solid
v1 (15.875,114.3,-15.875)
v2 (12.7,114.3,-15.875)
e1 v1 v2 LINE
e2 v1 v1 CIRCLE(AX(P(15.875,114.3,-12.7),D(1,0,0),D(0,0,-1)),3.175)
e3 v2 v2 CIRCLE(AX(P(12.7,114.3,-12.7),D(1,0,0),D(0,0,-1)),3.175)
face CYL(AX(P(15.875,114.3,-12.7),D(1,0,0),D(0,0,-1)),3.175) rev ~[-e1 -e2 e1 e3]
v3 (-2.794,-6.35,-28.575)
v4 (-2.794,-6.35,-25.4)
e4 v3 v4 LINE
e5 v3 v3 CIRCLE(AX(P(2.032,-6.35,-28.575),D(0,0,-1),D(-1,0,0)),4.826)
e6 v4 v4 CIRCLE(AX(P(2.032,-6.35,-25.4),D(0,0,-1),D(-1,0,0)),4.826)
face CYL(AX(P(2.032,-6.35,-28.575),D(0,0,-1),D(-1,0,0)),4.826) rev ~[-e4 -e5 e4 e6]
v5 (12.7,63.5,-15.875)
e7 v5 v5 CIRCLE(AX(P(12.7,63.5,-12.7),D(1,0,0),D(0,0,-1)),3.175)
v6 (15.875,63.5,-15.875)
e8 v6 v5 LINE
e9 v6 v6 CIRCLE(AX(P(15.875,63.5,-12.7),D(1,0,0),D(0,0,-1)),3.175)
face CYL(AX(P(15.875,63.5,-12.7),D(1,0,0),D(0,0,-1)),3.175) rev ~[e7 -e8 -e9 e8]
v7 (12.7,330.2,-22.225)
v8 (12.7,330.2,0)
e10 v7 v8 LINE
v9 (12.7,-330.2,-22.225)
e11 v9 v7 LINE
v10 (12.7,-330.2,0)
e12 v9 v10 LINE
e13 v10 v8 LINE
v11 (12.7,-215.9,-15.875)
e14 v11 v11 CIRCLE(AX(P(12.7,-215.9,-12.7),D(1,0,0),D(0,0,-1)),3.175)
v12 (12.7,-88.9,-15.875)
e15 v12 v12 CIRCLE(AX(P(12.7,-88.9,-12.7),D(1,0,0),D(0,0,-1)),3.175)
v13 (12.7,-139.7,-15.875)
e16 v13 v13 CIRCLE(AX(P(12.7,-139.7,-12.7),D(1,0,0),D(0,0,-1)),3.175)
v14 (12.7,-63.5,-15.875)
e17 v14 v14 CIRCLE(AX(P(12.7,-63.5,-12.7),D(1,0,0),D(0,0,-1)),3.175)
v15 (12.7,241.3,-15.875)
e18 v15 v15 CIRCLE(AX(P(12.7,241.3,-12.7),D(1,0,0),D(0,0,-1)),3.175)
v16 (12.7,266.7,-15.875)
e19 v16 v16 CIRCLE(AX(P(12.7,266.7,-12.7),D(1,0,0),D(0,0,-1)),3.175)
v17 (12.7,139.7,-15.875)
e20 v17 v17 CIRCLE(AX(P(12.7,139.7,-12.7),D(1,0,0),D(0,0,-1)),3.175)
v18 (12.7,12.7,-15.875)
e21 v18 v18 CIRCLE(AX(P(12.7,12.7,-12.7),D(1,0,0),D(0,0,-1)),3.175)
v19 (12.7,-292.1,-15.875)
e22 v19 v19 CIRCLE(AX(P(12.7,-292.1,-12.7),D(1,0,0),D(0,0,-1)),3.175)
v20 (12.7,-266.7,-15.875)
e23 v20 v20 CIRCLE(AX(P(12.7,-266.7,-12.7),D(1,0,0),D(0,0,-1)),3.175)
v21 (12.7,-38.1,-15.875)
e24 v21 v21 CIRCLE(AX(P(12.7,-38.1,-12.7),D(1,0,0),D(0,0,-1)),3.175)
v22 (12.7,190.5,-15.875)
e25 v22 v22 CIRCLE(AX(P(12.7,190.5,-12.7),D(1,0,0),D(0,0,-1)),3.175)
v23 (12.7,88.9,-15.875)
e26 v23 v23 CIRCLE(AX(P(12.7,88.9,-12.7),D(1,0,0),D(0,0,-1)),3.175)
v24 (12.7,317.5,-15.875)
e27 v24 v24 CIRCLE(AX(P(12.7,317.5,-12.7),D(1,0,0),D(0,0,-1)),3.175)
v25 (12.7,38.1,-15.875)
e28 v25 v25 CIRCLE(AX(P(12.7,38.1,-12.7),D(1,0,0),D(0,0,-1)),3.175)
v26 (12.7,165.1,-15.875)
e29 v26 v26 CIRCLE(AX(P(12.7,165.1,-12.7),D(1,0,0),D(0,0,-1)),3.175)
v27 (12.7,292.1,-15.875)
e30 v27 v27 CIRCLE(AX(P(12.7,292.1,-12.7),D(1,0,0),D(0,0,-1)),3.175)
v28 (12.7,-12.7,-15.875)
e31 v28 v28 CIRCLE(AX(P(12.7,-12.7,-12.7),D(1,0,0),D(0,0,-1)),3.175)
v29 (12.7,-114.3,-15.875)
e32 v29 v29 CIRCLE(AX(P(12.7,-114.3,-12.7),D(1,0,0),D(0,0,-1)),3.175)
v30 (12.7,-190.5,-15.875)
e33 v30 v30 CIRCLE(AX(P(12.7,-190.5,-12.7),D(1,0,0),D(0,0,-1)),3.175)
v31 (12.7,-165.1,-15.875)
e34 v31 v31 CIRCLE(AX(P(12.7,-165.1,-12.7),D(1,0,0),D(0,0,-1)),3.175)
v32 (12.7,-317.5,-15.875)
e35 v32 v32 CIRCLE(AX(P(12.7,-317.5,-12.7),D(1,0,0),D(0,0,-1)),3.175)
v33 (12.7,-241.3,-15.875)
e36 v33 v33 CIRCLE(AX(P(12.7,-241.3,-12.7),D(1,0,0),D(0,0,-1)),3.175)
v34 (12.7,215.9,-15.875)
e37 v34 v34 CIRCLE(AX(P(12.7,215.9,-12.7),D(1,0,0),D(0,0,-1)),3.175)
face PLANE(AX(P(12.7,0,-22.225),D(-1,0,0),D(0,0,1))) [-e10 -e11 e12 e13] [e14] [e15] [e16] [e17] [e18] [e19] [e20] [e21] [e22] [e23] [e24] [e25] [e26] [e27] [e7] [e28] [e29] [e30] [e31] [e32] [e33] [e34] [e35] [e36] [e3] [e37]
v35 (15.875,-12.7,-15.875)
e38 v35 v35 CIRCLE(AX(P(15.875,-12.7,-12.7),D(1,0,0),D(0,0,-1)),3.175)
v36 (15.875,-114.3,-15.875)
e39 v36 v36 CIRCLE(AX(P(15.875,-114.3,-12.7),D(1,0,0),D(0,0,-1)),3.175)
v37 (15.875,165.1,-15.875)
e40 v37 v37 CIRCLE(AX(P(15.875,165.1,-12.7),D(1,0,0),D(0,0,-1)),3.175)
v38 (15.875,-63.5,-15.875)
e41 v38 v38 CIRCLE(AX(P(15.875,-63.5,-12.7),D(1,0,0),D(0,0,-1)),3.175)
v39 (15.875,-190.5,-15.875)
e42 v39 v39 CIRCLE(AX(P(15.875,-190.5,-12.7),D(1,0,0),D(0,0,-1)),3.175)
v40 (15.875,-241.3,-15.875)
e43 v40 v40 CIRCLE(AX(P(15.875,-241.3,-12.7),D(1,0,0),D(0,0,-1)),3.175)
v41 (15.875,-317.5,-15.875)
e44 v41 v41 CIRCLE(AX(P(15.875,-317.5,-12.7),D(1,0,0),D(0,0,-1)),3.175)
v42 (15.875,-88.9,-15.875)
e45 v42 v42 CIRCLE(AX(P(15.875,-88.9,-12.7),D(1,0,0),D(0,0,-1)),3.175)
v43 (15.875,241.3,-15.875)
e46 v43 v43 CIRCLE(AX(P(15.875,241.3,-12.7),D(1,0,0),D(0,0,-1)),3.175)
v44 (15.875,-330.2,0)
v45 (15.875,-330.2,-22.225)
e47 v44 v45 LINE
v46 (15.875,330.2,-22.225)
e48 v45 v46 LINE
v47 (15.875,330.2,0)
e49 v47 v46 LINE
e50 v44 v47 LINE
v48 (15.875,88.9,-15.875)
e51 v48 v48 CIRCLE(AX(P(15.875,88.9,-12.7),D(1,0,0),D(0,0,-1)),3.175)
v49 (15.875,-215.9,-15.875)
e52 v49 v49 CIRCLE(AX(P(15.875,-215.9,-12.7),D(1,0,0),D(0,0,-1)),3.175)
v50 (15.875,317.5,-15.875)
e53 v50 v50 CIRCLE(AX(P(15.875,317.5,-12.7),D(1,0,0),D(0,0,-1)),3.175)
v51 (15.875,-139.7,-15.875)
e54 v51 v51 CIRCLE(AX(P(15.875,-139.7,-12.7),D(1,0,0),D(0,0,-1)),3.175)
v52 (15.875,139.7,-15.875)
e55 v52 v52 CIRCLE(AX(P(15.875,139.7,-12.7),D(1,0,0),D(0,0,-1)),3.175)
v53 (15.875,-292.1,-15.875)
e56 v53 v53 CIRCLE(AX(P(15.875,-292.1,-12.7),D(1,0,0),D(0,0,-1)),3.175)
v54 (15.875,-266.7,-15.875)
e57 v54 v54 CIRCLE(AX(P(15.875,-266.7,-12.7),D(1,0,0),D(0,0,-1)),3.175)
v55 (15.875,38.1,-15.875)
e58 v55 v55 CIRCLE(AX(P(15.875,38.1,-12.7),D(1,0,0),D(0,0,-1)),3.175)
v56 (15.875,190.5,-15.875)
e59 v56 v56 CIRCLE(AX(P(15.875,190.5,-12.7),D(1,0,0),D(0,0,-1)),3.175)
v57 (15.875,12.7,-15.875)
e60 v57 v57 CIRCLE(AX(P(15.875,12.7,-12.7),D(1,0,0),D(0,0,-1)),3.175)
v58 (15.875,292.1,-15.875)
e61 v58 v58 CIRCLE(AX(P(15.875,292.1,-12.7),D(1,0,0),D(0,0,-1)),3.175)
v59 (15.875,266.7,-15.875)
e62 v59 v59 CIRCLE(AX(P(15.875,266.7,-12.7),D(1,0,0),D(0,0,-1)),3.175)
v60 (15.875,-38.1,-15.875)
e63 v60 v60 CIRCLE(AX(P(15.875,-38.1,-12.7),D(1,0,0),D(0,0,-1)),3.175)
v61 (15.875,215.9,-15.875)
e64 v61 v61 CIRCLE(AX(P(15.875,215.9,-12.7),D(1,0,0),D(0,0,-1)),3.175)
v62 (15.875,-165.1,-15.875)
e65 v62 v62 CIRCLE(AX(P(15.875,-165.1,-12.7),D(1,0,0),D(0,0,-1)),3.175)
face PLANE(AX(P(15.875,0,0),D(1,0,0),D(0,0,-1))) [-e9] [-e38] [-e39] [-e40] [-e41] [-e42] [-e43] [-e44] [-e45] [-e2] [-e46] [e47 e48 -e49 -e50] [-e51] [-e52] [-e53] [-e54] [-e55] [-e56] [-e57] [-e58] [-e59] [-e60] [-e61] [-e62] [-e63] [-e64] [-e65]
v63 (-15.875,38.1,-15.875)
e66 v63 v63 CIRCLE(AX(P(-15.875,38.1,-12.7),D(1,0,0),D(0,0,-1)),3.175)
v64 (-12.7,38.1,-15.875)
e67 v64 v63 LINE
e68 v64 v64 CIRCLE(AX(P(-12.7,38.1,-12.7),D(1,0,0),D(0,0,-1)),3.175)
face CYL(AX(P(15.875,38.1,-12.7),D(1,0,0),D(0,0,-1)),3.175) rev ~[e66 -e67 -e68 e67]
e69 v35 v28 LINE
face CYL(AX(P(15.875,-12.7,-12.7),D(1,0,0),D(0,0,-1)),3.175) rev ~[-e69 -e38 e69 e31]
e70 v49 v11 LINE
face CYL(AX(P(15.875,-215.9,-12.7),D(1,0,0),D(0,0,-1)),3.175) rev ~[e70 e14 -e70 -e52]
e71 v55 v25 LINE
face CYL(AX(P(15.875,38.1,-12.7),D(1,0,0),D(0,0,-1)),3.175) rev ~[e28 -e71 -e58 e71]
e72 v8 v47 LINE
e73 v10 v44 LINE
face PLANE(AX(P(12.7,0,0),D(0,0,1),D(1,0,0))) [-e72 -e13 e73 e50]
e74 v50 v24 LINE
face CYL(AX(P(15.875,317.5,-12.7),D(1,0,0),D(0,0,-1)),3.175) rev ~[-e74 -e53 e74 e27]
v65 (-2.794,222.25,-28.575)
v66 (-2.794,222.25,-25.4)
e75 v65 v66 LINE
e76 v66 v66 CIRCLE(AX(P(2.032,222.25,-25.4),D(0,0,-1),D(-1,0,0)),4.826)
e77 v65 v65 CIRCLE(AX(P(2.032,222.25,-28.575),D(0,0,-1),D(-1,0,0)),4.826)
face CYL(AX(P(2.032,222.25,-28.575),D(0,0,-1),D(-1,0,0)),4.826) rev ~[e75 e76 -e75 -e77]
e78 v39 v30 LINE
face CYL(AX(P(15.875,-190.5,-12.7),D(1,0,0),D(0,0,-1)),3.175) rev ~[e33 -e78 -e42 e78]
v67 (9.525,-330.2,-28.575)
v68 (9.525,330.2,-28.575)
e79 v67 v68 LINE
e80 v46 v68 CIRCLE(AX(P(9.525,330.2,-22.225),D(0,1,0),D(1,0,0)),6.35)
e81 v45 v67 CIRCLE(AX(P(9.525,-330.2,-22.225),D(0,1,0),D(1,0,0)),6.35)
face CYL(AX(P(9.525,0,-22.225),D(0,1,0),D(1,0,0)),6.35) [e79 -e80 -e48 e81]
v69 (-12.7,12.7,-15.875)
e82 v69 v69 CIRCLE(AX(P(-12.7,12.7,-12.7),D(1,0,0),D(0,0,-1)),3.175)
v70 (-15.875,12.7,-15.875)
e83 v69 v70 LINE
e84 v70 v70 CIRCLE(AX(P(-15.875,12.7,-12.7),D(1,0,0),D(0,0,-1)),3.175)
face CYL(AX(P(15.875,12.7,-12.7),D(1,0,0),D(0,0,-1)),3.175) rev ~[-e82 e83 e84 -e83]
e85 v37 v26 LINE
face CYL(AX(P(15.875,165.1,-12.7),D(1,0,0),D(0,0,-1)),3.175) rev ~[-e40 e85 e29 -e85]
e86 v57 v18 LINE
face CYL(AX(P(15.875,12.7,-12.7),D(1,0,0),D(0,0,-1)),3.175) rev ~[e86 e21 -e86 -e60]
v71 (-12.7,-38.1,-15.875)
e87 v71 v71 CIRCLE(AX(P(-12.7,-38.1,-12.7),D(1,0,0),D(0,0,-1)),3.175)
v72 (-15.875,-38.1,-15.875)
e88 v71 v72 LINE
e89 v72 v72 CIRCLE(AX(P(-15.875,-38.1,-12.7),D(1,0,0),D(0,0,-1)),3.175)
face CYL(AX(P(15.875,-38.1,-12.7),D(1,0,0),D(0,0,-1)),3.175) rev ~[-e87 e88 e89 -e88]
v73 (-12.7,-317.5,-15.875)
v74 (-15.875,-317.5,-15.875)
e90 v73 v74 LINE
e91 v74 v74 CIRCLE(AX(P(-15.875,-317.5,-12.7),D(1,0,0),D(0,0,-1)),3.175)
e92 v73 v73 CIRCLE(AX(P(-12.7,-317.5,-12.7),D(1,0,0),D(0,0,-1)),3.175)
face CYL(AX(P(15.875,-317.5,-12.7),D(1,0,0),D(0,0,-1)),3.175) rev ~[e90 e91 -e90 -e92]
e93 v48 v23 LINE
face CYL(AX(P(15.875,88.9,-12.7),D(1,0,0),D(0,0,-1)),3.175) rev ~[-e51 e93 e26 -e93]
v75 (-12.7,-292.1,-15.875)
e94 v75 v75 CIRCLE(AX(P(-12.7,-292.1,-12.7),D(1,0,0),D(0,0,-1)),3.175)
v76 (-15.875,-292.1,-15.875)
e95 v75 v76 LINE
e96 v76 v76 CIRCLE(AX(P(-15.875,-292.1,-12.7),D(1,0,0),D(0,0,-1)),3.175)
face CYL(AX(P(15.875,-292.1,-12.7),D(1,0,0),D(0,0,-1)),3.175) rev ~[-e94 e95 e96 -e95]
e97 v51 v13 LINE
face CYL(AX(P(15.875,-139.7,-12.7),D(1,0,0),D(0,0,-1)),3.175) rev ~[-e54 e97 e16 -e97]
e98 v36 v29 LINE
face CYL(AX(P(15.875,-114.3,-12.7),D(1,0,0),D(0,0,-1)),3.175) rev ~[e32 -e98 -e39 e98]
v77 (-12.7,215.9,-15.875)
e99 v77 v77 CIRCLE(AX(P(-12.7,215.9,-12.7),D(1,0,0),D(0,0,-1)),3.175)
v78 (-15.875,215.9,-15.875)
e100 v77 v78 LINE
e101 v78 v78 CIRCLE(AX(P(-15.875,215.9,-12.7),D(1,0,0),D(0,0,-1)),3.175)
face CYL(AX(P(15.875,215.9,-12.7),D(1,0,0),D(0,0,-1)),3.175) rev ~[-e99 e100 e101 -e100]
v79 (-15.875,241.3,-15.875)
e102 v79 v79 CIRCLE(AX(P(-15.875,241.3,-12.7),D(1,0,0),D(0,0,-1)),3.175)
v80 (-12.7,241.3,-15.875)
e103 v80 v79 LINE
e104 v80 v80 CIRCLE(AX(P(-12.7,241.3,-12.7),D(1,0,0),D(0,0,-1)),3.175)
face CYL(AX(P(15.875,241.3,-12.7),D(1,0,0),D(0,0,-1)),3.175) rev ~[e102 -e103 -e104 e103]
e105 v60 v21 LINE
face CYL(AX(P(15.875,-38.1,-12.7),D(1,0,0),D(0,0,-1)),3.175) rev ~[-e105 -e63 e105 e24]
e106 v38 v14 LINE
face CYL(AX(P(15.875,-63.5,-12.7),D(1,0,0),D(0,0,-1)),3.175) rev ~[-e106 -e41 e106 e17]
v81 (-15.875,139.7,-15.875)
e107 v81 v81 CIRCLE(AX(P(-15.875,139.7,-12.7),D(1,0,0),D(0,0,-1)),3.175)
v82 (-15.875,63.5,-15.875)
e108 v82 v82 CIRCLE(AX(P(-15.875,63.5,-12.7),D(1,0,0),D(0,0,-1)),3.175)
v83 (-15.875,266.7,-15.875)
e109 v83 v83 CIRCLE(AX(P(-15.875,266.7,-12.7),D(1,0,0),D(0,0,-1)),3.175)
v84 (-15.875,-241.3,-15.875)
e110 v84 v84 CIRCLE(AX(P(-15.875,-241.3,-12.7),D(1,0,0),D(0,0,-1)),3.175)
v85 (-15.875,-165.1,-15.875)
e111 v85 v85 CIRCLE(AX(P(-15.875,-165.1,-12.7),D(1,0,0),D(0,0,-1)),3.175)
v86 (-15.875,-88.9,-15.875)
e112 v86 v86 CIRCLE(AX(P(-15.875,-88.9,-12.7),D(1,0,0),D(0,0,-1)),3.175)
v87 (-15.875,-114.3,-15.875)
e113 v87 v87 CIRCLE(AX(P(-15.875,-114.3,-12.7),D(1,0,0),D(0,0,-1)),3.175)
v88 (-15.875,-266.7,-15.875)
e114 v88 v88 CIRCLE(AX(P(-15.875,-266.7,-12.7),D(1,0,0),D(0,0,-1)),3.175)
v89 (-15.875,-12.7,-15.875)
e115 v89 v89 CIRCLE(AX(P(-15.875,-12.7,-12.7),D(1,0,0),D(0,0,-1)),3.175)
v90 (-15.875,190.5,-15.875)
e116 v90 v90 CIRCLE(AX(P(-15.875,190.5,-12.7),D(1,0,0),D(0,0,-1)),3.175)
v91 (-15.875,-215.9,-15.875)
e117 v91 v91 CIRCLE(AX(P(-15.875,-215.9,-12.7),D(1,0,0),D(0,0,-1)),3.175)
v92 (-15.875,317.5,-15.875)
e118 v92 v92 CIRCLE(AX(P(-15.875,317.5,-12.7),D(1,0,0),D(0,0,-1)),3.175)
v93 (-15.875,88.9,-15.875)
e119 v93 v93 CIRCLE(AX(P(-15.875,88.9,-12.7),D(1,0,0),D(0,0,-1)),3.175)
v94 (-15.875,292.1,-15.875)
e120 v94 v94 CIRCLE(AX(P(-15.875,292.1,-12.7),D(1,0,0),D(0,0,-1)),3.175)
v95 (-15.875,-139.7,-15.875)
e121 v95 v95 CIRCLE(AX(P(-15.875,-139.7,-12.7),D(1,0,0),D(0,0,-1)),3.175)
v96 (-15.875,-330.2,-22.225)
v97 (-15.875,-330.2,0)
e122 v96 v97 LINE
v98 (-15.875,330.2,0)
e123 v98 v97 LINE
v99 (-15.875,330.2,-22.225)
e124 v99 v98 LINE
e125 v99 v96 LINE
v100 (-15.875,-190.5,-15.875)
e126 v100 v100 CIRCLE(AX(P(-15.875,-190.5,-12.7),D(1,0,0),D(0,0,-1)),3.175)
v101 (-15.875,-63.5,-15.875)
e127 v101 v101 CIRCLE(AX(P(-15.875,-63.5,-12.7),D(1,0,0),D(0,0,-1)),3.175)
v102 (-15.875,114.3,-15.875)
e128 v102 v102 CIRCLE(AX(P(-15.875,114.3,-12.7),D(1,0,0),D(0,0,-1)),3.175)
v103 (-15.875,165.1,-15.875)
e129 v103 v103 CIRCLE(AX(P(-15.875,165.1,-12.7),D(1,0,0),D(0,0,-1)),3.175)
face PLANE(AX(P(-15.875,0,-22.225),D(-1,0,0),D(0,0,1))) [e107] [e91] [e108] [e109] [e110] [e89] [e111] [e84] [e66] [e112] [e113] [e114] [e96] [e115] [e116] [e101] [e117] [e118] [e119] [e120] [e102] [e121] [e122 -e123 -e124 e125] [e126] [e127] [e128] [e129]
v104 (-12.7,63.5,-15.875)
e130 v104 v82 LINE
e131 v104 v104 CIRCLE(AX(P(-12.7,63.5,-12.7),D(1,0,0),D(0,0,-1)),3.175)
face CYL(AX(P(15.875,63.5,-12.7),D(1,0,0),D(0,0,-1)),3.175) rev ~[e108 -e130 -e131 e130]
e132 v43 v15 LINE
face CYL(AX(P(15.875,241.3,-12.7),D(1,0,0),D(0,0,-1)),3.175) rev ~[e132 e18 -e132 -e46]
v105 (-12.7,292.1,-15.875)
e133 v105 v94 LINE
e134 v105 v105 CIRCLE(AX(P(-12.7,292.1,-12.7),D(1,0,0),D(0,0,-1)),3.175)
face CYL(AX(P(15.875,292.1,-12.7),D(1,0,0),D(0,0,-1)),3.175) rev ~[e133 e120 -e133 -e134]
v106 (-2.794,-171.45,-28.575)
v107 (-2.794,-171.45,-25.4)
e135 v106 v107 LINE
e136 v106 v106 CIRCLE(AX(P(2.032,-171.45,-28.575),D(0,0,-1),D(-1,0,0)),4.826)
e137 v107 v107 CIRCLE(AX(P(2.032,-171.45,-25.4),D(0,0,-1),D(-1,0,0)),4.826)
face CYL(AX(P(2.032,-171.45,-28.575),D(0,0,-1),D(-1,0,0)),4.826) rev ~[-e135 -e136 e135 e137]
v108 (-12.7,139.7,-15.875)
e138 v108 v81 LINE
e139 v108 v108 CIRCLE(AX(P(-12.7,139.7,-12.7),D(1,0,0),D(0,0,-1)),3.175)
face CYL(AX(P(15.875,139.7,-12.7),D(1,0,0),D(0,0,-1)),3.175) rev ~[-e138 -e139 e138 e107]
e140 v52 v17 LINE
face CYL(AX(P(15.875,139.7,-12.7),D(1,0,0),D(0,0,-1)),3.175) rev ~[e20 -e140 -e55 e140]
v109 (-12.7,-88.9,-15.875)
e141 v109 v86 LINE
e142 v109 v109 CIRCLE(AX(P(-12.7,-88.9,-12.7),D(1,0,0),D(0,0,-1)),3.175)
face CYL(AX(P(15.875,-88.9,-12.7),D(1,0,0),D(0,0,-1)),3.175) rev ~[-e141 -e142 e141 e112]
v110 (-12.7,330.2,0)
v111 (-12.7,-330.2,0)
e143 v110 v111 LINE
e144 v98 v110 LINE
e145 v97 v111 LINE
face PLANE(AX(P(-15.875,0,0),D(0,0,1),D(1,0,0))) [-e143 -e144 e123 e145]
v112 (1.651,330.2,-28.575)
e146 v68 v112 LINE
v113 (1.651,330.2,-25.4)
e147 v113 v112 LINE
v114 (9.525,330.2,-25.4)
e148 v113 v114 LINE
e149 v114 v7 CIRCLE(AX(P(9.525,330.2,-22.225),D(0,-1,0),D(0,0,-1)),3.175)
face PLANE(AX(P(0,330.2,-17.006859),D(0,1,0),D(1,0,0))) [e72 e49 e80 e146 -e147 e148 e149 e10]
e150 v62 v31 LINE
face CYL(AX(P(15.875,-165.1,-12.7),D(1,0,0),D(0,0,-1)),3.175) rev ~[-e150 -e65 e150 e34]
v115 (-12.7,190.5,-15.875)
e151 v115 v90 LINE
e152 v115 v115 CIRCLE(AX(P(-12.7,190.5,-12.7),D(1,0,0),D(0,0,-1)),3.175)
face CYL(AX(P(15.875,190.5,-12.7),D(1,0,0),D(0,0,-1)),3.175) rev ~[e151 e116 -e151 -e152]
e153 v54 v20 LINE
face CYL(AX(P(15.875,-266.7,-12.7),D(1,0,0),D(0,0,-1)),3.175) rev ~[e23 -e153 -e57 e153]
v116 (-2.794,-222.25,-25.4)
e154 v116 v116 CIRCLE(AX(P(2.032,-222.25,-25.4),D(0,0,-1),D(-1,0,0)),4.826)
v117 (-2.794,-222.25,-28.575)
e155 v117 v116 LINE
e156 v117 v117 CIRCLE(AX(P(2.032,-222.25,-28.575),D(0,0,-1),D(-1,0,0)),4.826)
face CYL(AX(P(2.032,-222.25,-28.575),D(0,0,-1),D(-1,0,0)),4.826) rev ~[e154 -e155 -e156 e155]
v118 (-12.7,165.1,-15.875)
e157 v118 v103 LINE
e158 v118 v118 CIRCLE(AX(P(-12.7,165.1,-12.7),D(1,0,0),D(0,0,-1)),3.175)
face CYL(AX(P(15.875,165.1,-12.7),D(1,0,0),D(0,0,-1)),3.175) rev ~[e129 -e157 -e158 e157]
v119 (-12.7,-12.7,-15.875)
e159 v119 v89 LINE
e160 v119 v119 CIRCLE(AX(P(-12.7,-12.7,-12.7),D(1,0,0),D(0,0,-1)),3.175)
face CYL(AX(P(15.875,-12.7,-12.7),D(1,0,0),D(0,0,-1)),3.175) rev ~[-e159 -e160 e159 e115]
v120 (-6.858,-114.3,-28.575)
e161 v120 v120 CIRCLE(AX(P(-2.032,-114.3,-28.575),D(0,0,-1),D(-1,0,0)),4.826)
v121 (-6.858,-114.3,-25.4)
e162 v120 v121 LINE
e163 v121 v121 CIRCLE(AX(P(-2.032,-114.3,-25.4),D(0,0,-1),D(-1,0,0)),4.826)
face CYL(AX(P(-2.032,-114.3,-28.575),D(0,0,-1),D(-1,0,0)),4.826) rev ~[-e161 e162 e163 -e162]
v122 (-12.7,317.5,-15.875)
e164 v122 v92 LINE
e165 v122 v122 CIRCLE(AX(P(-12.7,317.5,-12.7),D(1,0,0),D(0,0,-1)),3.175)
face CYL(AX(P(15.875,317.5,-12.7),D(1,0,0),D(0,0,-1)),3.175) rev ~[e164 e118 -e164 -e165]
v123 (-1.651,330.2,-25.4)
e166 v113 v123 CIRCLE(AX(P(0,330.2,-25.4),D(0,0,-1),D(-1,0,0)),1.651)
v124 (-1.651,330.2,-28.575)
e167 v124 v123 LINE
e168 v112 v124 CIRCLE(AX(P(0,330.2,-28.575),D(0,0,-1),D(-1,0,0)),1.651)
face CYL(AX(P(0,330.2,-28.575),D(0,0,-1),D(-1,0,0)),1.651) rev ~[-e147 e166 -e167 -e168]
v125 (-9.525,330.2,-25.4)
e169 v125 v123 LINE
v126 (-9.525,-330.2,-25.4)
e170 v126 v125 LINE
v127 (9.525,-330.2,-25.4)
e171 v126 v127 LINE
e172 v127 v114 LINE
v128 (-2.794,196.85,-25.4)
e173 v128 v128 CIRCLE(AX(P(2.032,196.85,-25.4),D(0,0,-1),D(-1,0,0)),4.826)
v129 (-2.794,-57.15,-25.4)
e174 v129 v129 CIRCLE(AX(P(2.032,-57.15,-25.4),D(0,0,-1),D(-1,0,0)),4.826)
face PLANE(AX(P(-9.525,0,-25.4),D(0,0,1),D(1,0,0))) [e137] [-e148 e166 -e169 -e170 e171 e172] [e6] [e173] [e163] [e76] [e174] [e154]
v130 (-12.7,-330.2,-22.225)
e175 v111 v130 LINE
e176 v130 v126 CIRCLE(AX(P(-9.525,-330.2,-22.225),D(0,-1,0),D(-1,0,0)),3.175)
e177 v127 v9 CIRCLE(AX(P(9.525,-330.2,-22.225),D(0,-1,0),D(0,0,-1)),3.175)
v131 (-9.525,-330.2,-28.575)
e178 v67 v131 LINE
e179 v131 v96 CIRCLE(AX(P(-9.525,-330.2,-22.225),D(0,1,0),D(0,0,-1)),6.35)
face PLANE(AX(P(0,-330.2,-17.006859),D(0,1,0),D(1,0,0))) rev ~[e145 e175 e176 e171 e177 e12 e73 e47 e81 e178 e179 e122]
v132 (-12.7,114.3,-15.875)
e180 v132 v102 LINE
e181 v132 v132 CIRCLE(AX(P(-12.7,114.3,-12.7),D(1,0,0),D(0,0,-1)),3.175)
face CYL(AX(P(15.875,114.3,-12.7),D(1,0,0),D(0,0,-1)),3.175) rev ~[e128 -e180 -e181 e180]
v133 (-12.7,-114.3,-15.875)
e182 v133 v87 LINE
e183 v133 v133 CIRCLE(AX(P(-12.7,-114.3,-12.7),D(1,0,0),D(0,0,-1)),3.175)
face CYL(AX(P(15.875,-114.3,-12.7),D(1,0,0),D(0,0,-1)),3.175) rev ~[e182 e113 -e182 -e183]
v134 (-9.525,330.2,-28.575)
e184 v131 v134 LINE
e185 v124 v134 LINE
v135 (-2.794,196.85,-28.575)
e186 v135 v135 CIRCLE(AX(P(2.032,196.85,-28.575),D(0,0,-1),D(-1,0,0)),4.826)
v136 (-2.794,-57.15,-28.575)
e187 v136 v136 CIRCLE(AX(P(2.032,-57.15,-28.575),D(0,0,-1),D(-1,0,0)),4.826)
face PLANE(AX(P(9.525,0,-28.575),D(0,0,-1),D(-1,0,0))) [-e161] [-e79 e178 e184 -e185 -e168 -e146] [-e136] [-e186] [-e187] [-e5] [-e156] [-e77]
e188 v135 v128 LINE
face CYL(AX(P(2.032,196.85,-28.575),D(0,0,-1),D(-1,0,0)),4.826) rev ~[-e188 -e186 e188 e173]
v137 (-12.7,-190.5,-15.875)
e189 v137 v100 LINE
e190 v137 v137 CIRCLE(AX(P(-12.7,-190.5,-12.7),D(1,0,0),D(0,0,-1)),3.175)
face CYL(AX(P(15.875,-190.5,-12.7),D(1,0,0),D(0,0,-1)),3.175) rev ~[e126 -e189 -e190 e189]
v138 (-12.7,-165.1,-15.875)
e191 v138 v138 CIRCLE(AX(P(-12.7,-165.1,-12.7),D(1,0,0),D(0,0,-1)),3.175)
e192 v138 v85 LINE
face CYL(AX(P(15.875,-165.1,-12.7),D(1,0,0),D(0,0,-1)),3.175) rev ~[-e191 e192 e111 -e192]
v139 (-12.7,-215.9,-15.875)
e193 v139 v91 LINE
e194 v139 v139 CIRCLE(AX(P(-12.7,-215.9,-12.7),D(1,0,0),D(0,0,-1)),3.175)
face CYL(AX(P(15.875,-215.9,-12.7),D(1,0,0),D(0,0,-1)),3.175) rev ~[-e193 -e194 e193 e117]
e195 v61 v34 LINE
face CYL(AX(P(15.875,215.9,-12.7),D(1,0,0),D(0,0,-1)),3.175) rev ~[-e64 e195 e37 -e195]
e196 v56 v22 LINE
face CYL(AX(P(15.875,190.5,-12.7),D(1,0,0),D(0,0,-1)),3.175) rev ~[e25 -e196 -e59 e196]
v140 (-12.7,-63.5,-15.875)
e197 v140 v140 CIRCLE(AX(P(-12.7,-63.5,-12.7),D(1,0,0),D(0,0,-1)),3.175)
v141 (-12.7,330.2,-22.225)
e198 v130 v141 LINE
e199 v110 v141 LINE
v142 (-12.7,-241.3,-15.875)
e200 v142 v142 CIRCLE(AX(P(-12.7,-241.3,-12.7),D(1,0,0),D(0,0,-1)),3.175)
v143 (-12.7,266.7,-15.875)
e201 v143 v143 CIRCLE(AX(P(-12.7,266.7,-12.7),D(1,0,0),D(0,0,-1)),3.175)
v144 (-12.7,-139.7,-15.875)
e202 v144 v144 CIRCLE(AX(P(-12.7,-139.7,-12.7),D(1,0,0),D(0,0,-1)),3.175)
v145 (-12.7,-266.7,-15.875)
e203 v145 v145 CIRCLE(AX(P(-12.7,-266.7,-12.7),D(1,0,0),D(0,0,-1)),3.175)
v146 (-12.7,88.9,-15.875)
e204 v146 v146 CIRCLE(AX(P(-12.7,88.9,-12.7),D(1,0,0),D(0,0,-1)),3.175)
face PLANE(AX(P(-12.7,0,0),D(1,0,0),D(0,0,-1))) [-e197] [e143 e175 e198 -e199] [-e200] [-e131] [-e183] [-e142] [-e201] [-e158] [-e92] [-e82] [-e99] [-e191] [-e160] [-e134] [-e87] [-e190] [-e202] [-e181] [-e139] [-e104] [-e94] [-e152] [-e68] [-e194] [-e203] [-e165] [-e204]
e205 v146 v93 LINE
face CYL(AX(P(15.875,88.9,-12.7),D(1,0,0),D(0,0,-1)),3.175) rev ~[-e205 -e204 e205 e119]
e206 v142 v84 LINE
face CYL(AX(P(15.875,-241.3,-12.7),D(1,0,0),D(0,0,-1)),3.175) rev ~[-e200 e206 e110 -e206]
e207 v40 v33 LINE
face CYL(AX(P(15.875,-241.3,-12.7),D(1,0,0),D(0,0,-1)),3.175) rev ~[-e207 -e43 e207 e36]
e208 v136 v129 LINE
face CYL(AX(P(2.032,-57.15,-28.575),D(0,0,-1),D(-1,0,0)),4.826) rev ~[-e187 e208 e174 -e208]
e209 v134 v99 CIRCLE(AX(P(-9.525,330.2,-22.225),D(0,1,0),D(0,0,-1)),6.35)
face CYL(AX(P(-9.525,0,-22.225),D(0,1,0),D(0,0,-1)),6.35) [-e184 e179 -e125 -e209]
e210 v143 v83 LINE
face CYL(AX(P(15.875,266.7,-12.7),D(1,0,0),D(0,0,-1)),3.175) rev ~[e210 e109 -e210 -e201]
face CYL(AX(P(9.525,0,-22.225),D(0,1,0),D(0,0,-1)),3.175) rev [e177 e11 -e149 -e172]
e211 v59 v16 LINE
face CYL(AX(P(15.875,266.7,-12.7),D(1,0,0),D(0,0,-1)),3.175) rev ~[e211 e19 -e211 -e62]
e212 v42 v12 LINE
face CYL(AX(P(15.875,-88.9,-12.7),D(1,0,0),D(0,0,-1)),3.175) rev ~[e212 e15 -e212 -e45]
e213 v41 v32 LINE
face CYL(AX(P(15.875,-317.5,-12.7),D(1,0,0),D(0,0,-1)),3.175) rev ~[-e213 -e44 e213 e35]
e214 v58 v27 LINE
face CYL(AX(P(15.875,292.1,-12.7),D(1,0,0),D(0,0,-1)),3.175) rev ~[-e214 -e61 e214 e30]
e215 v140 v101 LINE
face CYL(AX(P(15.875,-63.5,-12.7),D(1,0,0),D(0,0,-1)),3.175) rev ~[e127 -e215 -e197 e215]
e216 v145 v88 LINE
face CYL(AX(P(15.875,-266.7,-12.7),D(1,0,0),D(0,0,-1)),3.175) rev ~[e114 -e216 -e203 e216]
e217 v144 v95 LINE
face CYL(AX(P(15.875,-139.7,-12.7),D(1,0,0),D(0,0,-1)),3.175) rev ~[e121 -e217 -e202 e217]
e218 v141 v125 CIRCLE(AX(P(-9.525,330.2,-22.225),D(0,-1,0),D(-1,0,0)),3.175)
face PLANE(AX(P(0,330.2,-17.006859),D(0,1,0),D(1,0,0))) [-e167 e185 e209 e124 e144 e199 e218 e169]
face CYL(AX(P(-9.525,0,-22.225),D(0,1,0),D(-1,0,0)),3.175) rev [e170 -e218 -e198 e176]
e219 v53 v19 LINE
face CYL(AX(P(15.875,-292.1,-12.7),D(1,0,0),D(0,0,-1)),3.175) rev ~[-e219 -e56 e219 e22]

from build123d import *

# Parameters (mm, degrees)
BOSS_EXTRUDE1_DEPTH = 330.2
SKETCH3_R           = 1.651
SKETCH3_R_2         = 4.826
CUT_EXTRUDE1_DEPTH  = 332.814083863
SKETCH4_R           = 3.175
CUT_EXTRUDE2_DEPTH  = 333.951397542
LPATTERN1_COUNT     = 26
LPATTERN1_PITCH     = 25.4


with BuildPart() as part:
    # Sketch2 → Boss-Extrude1 (new, symmetric)
    with BuildSketch(Plane(origin=(0, 0, 0), x_dir=(1, 0, 0), z_dir=(0, 1, 0))):
        with BuildLine():
            Line((-12.7, 0), (-12.7, 22.225))
            ThreePointArc((-12.7, 22.225), (-11.77006403, 24.47006403), (-9.525, 25.4))
            Line((-9.525, 25.4), (9.525, 25.4))
            ThreePointArc((9.525, 25.4), (11.77006403, 24.47006403), (12.7, 22.225))
            Line((12.7, 22.225), (12.7, 0))
            Line((12.7, 0), (15.875, 0))
            Line((15.875, 0), (15.875, 22.225))
            ThreePointArc((15.875, 22.225), (14.015128061, 26.715128061), (9.525, 28.575))
            Line((9.525, 28.575), (-9.525, 28.575))
            ThreePointArc((-9.525, 28.575), (-14.015128061, 26.715128061), (-15.875, 22.225))
            Line((-15.875, 22.225), (-15.875, 0))
            Line((-15.875, 0), (-12.7, 0))
        make_face()
    extrude(amount=BOSS_EXTRUDE1_DEPTH, both=True)

    # Sketch3 → Cut-Extrude1 (cut, through all)
    with BuildSketch(Plane(origin=(0, 0, -28.575), x_dir=(-1, 0, 0), z_dir=(0, 0, -1))):
        with Locations((0, 330.2)):
            Circle(SKETCH3_R)
        with Locations((-2.032, 222.25)):
            Circle(SKETCH3_R_2)
        with Locations((-2.032, 196.85)):
            Circle(SKETCH3_R_2)
        with Locations((-2.032, -6.35)):
            Circle(SKETCH3_R_2)
        with Locations((-2.032, -57.15)):
            Circle(SKETCH3_R_2)
        with Locations((2.032, -114.3)):
            Circle(SKETCH3_R_2)
        with Locations((-2.032, -171.45)):
            Circle(SKETCH3_R_2)
        with Locations((-2.032, -222.25)):
            Circle(SKETCH3_R_2)
    extrude(amount=-CUT_EXTRUDE1_DEPTH, mode=Mode.SUBTRACT)

    # Sketch4 → Cut-Extrude2 (cut, through all)
    with BuildSketch(Plane(origin=(15.875, 0, 0), x_dir=(0, 0, -1), z_dir=(1, 0, 0))):
        with Locations((12.7, 317.5)):
            Circle(SKETCH4_R)
    cut_extrude2 = extrude(amount=-CUT_EXTRUDE2_DEPTH, mode=Mode.SUBTRACT)

    # LPattern1: Cut-Extrude2 ×26
    with Locations(*[(0, -i * LPATTERN1_PITCH, 0) for i in range(1, LPATTERN1_COUNT)]):
        add(cut_extrude2, mode=Mode.SUBTRACT)


solid = part.part
